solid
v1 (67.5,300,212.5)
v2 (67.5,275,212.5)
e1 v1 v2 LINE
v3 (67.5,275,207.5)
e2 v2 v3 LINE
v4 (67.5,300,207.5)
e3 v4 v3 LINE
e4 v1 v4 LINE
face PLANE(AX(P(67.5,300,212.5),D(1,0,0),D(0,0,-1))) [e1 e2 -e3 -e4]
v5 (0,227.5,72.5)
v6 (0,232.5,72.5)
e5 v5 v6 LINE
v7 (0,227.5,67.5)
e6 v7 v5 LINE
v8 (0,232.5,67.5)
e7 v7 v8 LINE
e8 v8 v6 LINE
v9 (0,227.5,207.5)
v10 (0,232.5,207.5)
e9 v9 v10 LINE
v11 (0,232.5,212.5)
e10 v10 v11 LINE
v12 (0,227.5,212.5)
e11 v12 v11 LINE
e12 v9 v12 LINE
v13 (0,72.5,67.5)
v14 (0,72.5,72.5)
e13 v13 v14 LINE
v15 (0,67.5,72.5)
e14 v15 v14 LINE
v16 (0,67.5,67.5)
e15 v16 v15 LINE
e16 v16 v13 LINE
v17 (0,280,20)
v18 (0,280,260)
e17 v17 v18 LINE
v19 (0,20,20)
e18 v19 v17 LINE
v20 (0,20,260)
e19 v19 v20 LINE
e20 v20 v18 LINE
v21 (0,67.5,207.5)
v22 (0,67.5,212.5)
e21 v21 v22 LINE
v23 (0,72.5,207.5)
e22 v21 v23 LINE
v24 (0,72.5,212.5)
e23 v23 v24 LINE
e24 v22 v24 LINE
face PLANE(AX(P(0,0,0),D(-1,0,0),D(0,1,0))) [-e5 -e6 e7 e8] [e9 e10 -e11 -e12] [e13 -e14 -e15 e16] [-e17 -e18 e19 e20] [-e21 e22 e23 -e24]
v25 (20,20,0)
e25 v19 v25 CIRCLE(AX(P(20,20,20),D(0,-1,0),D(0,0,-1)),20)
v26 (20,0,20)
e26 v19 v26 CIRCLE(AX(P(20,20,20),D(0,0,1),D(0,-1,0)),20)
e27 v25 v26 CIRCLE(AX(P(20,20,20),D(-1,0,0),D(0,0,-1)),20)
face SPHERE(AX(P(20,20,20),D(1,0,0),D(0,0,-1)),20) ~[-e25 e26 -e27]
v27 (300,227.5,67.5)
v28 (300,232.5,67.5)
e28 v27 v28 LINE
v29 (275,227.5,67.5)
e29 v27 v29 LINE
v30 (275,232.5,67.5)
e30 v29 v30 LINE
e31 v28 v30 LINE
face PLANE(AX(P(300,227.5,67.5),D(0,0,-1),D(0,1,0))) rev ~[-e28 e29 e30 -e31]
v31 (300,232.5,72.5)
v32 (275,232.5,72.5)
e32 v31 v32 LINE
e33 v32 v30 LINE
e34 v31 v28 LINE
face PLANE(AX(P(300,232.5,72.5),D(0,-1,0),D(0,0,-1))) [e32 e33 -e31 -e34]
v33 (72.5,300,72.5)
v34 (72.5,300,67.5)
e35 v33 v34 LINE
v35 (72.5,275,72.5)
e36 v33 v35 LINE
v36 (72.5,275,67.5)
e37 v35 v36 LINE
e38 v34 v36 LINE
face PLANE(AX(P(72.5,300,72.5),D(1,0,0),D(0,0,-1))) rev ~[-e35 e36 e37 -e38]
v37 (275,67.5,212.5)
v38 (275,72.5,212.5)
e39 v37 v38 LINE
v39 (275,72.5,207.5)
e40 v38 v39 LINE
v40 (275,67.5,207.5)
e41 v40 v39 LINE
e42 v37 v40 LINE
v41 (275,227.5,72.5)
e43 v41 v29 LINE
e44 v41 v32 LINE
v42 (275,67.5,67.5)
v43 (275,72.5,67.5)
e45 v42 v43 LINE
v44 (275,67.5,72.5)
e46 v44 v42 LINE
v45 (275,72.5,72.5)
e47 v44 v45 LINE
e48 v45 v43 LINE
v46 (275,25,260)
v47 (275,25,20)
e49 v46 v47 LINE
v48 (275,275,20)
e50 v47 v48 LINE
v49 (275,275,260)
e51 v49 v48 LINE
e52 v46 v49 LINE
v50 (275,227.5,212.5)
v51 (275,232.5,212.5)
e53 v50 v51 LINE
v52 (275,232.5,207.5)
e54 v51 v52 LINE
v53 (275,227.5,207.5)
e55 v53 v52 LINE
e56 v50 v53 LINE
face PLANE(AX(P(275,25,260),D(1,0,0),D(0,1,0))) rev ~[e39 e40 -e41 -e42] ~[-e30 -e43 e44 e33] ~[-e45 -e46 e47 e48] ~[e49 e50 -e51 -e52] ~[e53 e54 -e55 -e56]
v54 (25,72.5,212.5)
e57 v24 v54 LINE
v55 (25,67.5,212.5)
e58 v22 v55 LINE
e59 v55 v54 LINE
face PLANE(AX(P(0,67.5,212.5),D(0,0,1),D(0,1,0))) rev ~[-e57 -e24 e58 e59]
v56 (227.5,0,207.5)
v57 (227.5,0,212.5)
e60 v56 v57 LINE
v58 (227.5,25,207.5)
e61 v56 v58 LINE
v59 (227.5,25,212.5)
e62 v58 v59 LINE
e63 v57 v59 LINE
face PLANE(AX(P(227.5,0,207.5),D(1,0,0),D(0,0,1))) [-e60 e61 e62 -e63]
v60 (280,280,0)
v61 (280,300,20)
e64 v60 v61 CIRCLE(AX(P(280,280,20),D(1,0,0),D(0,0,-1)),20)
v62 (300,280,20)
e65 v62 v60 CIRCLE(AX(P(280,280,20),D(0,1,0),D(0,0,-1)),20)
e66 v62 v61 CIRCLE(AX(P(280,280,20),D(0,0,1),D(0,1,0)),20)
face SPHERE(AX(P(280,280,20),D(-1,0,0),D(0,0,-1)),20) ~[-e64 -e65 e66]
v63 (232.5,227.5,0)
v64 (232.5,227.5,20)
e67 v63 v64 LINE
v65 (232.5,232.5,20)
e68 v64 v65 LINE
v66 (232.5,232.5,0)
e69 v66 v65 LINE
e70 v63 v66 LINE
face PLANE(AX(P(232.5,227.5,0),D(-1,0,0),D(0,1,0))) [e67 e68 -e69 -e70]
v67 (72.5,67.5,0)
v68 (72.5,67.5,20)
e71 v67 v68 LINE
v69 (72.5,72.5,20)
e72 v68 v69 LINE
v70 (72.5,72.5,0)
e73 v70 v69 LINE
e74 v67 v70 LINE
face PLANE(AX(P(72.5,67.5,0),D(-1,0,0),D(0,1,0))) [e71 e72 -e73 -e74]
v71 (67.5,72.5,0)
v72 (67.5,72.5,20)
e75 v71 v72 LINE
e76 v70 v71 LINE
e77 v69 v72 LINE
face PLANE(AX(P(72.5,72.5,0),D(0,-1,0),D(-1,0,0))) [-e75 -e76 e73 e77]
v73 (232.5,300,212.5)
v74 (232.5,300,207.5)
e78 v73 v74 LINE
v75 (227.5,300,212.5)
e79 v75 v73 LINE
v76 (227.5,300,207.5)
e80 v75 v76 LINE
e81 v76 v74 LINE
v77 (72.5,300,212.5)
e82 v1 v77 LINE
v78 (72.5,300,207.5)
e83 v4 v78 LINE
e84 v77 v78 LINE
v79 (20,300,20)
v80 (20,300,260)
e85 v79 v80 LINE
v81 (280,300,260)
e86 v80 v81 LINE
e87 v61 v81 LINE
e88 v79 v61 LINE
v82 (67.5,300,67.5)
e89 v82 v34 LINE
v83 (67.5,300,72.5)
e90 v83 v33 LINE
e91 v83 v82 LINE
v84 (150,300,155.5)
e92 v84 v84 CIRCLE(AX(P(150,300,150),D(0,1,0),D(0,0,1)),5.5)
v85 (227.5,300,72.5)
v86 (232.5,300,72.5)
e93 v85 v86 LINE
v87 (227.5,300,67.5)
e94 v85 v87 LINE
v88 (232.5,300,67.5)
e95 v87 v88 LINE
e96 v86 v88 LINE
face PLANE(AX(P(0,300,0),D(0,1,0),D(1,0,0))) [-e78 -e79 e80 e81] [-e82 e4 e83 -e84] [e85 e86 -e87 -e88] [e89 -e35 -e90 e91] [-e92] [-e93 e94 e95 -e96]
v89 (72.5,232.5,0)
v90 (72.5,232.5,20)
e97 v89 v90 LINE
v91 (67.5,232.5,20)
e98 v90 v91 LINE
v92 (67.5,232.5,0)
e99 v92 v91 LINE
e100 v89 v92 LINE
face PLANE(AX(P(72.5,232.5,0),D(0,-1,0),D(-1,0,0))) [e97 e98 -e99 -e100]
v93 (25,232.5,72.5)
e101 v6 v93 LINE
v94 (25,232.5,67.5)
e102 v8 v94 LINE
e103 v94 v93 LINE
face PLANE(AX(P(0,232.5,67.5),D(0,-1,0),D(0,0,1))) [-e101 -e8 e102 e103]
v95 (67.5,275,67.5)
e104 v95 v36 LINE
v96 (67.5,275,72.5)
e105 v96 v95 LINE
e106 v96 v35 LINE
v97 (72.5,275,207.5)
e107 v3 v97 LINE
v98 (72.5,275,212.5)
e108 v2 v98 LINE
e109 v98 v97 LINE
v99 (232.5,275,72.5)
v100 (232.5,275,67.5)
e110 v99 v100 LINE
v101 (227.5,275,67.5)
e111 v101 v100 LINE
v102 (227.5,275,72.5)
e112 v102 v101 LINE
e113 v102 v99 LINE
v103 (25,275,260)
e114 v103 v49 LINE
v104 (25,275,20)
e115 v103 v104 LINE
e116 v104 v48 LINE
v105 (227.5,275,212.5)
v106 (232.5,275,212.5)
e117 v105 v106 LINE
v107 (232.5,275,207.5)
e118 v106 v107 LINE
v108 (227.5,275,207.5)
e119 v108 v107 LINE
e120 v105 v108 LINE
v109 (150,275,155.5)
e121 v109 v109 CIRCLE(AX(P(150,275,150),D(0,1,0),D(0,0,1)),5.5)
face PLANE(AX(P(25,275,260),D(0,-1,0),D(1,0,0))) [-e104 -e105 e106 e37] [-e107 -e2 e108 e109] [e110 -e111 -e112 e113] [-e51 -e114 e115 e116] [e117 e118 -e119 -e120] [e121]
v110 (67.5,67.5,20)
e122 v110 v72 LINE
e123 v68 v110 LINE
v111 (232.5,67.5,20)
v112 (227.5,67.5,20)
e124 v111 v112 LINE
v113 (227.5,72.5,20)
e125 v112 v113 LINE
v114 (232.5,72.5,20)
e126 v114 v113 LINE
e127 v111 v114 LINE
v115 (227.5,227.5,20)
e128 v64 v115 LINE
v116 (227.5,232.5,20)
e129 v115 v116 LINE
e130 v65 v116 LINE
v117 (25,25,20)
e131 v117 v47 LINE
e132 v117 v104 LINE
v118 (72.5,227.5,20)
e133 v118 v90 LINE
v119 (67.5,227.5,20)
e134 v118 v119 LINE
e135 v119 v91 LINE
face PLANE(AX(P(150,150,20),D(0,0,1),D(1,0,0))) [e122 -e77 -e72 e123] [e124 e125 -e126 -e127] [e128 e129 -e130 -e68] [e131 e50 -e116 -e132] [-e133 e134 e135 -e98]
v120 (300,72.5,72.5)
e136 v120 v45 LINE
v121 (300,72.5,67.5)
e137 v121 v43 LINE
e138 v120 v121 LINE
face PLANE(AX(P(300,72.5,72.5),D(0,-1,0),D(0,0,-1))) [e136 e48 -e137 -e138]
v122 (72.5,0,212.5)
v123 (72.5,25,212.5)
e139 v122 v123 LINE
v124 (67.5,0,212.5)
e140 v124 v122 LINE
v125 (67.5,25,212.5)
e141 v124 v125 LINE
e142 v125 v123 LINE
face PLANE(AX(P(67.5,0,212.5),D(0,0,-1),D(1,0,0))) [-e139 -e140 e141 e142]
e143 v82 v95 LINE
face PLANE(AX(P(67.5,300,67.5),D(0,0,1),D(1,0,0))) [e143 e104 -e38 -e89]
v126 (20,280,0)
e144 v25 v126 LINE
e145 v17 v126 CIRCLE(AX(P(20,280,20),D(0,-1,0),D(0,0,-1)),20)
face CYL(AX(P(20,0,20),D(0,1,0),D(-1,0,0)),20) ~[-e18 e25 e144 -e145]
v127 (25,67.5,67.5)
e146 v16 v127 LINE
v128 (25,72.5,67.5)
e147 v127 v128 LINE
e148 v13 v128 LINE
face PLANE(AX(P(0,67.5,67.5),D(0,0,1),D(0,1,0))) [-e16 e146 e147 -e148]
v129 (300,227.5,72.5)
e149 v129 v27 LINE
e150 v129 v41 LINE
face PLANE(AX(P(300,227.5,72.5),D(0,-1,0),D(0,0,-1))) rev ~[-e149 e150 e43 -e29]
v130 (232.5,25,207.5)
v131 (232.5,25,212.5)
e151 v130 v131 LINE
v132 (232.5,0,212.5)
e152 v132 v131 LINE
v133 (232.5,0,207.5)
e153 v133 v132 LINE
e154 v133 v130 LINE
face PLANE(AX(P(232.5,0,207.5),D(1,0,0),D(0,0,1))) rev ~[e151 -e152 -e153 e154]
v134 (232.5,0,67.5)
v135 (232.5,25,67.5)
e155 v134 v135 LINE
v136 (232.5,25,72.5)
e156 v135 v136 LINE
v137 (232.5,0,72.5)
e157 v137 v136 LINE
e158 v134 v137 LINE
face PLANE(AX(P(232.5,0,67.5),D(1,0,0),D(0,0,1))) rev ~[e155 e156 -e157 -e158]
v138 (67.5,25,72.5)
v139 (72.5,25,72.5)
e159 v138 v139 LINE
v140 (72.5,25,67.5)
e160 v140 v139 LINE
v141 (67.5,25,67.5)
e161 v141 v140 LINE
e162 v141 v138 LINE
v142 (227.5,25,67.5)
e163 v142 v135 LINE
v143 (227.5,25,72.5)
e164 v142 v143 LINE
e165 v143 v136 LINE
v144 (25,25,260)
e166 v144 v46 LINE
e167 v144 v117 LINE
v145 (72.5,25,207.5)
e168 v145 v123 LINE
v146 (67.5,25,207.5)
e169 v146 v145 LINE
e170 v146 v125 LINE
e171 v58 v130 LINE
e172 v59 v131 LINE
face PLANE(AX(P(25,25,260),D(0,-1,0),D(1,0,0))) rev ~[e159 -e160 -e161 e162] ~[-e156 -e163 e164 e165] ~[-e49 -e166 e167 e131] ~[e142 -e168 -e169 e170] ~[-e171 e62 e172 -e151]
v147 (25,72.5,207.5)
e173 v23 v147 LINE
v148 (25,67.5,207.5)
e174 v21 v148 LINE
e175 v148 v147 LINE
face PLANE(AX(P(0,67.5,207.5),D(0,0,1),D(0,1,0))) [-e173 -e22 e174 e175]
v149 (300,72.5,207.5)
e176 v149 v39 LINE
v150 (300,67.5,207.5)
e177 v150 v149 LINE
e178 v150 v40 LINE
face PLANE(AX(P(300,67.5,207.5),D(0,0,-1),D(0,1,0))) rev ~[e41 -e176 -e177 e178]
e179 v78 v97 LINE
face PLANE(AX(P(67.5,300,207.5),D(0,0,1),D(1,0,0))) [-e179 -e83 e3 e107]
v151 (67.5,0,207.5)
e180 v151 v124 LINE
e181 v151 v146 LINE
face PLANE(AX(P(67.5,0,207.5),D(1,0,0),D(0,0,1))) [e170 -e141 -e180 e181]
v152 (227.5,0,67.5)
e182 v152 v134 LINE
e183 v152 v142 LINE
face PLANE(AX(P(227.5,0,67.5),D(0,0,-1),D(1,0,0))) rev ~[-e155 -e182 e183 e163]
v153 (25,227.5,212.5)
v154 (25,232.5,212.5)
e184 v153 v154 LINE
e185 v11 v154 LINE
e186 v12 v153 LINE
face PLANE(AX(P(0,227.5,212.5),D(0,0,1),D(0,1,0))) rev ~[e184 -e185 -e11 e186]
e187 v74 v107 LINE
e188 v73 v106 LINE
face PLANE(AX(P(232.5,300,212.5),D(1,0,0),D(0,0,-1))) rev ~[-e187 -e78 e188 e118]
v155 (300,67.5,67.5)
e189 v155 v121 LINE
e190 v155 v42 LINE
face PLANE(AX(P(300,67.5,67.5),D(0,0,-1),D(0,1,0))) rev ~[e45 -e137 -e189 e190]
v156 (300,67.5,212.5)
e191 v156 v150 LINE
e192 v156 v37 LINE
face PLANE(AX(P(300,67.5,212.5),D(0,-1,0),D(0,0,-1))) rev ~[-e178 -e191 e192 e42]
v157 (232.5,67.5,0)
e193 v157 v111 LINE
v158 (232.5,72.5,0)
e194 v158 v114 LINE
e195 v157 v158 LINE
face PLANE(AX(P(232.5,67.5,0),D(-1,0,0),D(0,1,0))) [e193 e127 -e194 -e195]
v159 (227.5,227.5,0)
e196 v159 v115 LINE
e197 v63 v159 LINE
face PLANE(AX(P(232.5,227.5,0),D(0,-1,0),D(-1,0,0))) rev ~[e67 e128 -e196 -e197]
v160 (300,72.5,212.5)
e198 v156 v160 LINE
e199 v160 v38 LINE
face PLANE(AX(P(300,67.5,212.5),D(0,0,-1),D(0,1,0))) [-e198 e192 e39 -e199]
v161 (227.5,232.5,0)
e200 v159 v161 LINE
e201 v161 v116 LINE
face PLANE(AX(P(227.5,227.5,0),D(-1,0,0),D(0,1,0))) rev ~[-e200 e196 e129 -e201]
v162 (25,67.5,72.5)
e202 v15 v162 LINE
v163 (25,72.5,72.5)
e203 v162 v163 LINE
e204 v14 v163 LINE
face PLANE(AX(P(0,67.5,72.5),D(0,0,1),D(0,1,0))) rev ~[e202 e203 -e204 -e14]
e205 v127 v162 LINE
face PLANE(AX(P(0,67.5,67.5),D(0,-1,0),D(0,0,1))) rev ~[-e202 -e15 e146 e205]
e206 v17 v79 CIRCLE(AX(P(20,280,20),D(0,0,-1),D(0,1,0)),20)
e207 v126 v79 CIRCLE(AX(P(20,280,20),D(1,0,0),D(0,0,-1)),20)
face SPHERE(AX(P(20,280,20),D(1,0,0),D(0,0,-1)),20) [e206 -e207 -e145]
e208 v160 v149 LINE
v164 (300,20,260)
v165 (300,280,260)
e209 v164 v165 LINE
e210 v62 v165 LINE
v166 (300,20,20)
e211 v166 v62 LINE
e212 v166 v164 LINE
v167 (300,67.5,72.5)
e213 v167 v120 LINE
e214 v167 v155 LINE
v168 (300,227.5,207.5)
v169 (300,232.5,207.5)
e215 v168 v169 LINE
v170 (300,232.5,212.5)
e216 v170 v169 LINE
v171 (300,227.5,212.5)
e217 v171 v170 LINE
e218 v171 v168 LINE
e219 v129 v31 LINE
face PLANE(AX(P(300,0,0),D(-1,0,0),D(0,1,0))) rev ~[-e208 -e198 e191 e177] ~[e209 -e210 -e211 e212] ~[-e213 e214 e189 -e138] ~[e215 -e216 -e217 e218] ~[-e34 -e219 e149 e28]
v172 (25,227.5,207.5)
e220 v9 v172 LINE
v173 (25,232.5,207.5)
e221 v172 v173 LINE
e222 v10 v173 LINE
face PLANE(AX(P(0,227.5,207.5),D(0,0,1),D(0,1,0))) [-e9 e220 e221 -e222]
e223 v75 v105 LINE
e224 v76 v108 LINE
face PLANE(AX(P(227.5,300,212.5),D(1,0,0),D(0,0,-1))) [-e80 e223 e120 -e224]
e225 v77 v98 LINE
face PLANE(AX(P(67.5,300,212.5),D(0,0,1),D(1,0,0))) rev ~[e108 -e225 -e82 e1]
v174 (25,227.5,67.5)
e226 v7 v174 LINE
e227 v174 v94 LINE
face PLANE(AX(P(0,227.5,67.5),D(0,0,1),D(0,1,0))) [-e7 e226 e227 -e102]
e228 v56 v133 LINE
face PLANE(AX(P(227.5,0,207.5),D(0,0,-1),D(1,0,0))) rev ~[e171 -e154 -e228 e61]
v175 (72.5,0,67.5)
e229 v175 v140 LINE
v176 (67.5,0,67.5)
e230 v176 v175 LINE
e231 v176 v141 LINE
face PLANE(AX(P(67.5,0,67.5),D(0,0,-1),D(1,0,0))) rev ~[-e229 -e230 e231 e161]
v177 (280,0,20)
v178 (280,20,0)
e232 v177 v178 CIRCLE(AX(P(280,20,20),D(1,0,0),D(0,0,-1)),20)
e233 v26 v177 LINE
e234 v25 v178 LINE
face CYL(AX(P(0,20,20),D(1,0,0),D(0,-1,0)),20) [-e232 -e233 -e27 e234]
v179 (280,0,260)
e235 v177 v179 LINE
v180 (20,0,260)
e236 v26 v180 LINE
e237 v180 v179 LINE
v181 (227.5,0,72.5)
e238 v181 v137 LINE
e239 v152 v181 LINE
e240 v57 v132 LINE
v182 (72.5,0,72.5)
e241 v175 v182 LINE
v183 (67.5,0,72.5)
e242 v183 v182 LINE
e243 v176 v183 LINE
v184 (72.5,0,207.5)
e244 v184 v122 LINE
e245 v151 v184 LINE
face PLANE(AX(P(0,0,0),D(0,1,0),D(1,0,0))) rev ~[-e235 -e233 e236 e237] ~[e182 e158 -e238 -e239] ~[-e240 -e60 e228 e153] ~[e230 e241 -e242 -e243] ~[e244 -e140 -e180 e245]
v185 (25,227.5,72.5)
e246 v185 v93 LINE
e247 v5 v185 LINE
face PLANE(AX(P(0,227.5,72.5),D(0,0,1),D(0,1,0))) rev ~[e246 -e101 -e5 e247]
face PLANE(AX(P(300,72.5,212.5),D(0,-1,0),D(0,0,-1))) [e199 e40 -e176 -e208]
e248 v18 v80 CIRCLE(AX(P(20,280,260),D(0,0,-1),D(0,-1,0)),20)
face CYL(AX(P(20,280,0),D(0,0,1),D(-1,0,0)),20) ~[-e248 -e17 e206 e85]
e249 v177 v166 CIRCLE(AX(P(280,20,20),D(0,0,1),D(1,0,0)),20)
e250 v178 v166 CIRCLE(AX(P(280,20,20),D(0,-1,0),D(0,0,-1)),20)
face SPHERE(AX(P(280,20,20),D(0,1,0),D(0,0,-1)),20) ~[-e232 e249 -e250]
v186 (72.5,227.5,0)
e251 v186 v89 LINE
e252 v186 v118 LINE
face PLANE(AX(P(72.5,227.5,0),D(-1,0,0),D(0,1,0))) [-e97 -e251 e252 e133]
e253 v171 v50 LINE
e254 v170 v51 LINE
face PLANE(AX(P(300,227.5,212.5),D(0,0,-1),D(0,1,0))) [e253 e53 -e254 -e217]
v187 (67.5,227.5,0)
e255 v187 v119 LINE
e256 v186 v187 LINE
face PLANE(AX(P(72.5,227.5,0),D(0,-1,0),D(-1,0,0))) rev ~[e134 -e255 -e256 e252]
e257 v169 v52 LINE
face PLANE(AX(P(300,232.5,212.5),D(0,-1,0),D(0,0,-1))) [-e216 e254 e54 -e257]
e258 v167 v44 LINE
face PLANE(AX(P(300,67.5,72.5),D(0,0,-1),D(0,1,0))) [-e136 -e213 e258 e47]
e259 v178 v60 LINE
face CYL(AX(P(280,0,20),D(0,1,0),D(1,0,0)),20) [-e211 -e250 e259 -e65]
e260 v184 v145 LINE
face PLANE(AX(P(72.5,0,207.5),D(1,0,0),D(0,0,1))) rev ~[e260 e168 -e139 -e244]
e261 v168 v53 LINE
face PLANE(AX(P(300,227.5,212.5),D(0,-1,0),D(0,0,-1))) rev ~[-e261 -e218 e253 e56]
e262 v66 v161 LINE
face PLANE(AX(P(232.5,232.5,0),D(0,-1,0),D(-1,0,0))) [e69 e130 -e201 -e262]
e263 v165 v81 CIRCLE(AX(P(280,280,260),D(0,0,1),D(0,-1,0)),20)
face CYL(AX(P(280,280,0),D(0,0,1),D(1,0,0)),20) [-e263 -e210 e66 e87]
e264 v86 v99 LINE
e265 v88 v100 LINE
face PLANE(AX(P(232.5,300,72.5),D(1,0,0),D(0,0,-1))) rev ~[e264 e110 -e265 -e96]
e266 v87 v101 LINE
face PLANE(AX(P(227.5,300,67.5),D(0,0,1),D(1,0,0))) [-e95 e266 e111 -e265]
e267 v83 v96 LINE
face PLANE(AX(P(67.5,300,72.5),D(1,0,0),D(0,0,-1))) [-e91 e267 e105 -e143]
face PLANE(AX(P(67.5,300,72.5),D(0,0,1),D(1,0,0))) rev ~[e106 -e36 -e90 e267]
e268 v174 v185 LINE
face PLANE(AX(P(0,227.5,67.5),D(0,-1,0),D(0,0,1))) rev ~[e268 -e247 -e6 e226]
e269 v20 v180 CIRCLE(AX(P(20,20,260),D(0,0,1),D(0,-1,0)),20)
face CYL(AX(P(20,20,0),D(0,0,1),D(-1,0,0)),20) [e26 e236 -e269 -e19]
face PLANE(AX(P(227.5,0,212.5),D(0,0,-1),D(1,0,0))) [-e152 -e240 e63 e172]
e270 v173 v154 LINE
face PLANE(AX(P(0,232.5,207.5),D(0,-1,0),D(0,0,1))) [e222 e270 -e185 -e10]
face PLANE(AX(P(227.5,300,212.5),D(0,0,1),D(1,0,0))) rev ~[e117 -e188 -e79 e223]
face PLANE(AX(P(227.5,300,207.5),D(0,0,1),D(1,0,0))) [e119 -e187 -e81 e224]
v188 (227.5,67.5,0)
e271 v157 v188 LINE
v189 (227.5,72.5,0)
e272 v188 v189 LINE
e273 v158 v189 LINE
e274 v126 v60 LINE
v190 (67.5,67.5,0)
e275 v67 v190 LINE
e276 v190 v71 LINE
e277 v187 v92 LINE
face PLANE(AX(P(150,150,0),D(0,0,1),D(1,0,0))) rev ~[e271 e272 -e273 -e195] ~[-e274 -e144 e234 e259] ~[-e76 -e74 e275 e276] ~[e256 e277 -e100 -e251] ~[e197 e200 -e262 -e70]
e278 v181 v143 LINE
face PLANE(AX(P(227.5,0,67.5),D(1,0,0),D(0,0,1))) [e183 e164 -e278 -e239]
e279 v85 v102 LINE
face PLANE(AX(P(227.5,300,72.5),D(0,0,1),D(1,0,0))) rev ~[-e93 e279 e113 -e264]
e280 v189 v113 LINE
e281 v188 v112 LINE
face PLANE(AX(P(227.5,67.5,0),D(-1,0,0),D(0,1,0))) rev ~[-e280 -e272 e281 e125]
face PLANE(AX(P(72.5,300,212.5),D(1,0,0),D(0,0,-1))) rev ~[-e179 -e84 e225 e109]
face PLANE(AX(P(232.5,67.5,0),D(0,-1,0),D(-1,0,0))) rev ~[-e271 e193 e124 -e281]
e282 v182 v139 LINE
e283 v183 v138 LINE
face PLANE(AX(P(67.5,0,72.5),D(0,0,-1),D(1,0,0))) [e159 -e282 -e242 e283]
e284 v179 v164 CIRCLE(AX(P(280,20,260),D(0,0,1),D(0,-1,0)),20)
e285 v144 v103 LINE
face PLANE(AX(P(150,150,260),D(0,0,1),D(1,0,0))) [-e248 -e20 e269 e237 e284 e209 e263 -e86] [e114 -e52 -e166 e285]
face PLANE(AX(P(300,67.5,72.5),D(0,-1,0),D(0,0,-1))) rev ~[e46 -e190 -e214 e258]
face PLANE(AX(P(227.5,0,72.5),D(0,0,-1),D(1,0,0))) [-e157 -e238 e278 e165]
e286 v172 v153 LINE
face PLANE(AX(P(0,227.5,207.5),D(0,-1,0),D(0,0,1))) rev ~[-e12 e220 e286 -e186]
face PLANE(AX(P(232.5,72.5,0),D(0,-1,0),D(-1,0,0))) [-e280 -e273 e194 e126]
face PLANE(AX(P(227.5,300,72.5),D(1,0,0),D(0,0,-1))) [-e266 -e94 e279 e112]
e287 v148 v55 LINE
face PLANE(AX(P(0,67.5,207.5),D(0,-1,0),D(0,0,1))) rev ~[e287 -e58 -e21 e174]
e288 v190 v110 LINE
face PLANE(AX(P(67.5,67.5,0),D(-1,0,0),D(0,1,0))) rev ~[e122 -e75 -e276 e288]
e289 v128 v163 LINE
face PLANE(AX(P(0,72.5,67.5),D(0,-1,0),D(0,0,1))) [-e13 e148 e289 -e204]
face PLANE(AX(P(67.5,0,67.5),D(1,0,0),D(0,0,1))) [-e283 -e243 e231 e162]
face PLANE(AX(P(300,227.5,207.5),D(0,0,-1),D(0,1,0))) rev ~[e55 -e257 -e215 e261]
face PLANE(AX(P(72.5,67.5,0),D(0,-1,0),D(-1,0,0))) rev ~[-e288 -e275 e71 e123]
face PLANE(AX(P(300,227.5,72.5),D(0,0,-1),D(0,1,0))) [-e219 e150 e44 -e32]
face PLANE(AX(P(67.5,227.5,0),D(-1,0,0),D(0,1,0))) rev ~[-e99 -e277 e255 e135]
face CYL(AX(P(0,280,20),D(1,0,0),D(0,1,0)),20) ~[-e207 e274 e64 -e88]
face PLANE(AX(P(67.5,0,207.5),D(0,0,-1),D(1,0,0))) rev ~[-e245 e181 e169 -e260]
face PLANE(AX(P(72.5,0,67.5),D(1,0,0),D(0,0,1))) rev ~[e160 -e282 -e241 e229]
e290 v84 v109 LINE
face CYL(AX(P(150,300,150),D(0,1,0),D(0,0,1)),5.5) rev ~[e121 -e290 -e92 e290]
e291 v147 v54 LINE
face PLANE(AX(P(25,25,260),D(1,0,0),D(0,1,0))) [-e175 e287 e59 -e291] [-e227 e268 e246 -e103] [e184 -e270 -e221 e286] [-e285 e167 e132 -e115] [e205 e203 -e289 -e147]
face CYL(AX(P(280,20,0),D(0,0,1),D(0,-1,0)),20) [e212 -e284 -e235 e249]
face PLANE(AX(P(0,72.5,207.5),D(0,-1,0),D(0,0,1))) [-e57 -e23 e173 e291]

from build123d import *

# Parameters (mm, degrees)
SKETCH1_W           = 300
SKETCH1_H           = 300
BOSS_EXTRUDE1_DEPTH = 260
FILLET1_R           = 20
SKETCH2_W           = 250
SKETCH2_H           = 250
CUT_EXTRUDE1_DEPTH  = 240
SKETCH3_R           = 5.5
CUT_EXTRUDE2_DEPTH  = 25
SKETCH4_W           = 5
SKETCH4_H           = 5
CUT_EXTRUDE3_DEPTH  = 25
SKETCH6_W           = 5
SKETCH6_H           = 5
CUT_EXTRUDE4_DEPTH  = 25
SKETCH7_W           = 5
SKETCH7_H           = 5
CUT_EXTRUDE5_DEPTH  = 25
SKETCH8_W           = 5
SKETCH8_H           = 5
CUT_EXTRUDE6_DEPTH  = 25
SKETCH9_W           = 5
SKETCH9_H           = 5
CUT_EXTRUDE7_DEPTH  = 20


with BuildPart() as part:
    # Sketch1 → Boss-Extrude1 (new body)
    with BuildSketch(Plane.XY):
        with Locations((150, 150)):
            Rectangle(SKETCH1_W, SKETCH1_H)
    extrude(amount=BOSS_EXTRUDE1_DEPTH)

    # Fillet1
    fillet1_edges = [part.edges().sort_by_distance(p)[0] for p in [
        (150, 300, 0),
        (300, 150, 0),
        (150, 0, 0),
        (0, 150, 0),
        (0, 300, 130),
        (300, 300, 130),
        (300, 0, 130),
        (0, 0, 130),
    ]]
    fillet(fillet1_edges, radius=FILLET1_R)

    # Sketch2 → Cut-Extrude1 (cut)
    with BuildSketch(Plane.XY.offset(260)):
        with Locations((150, 150)):
            Rectangle(SKETCH2_W, SKETCH2_H)
    extrude(amount=-CUT_EXTRUDE1_DEPTH, mode=Mode.SUBTRACT)

    # Sketch3 → Cut-Extrude2 (cut)
    with BuildSketch(Plane(origin=(0, 300, 0), x_dir=(1, 0, 0), z_dir=(0, 1, 0))):
        with Locations(Location((150, -150, 0), (0, 0, 270))):
            Circle(SKETCH3_R)
    extrude(amount=-CUT_EXTRUDE2_DEPTH, mode=Mode.SUBTRACT)

    # Sketch4 → Cut-Extrude3 (cut)
    with BuildSketch(Plane(origin=(0, 300, 0), x_dir=(1, 0, 0), z_dir=(0, 1, 0))):
        with Locations((70, -70)):
            Rectangle(SKETCH4_W, SKETCH4_H)
        with Locations((70, -210)):
            Rectangle(SKETCH4_W, SKETCH4_H)
        with Locations((230, -70)):
            Rectangle(SKETCH4_W, SKETCH4_H)
        with Locations((230, -210)):
            Rectangle(SKETCH4_W, SKETCH4_H)
    extrude(amount=-CUT_EXTRUDE3_DEPTH, mode=Mode.SUBTRACT)

    # Sketch6 → Cut-Extrude4 (cut)
    with BuildSketch(Plane(origin=(300, 0, 0), x_dir=(0, 0, -1), z_dir=(1, 0, 0))):
        with Locations((-210, 230)):
            Rectangle(SKETCH6_W, SKETCH6_H)
        with Locations((-210, 70)):
            Rectangle(SKETCH6_W, SKETCH6_H)
        with Locations((-70, 230)):
            Rectangle(SKETCH6_W, SKETCH6_H)
        with Locations((-70, 70)):
            Rectangle(SKETCH6_W, SKETCH6_H)
    extrude(amount=-CUT_EXTRUDE4_DEPTH, mode=Mode.SUBTRACT)

    # Sketch7 → Cut-Extrude5 (cut)
    with BuildSketch(Plane.XZ):
        with Locations((70, 210)):
            Rectangle(SKETCH7_W, SKETCH7_H)
        with Locations((70, 70)):
            Rectangle(SKETCH7_W, SKETCH7_H)
        with Locations((230, 210)):
            Rectangle(SKETCH7_W, SKETCH7_H)
        with Locations((230, 70)):
            Rectangle(SKETCH7_W, SKETCH7_H)
    extrude(amount=-CUT_EXTRUDE5_DEPTH, mode=Mode.SUBTRACT)

    # Sketch8 → Cut-Extrude6 (cut)
    with BuildSketch(Plane.ZY):
        with Locations((70, 230)):
            Rectangle(SKETCH8_W, SKETCH8_H)
        with Locations((70, 70)):
            Rectangle(SKETCH8_W, SKETCH8_H)
        with Locations((210, 230)):
            Rectangle(SKETCH8_W, SKETCH8_H)
        with Locations((210, 70)):
            Rectangle(SKETCH8_W, SKETCH8_H)
    extrude(amount=-CUT_EXTRUDE6_DEPTH, mode=Mode.SUBTRACT)

    # Sketch9 → Cut-Extrude7 (cut)
    with BuildSketch(Plane(origin=(0, 0, 0), x_dir=(-1, 0, 0), z_dir=(0, 0, -1))):
        with Locations((-230, 230)):
            Rectangle(SKETCH9_W, SKETCH9_H)
        with Locations((-230, 70)):
            Rectangle(SKETCH9_W, SKETCH9_H)
        with Locations((-70, 230)):
            Rectangle(SKETCH9_W, SKETCH9_H)
        with Locations((-70, 70)):
            Rectangle(SKETCH9_W, SKETCH9_H)
    extrude(amount=-CUT_EXTRUDE7_DEPTH, mode=Mode.SUBTRACT)


solid = part.part
